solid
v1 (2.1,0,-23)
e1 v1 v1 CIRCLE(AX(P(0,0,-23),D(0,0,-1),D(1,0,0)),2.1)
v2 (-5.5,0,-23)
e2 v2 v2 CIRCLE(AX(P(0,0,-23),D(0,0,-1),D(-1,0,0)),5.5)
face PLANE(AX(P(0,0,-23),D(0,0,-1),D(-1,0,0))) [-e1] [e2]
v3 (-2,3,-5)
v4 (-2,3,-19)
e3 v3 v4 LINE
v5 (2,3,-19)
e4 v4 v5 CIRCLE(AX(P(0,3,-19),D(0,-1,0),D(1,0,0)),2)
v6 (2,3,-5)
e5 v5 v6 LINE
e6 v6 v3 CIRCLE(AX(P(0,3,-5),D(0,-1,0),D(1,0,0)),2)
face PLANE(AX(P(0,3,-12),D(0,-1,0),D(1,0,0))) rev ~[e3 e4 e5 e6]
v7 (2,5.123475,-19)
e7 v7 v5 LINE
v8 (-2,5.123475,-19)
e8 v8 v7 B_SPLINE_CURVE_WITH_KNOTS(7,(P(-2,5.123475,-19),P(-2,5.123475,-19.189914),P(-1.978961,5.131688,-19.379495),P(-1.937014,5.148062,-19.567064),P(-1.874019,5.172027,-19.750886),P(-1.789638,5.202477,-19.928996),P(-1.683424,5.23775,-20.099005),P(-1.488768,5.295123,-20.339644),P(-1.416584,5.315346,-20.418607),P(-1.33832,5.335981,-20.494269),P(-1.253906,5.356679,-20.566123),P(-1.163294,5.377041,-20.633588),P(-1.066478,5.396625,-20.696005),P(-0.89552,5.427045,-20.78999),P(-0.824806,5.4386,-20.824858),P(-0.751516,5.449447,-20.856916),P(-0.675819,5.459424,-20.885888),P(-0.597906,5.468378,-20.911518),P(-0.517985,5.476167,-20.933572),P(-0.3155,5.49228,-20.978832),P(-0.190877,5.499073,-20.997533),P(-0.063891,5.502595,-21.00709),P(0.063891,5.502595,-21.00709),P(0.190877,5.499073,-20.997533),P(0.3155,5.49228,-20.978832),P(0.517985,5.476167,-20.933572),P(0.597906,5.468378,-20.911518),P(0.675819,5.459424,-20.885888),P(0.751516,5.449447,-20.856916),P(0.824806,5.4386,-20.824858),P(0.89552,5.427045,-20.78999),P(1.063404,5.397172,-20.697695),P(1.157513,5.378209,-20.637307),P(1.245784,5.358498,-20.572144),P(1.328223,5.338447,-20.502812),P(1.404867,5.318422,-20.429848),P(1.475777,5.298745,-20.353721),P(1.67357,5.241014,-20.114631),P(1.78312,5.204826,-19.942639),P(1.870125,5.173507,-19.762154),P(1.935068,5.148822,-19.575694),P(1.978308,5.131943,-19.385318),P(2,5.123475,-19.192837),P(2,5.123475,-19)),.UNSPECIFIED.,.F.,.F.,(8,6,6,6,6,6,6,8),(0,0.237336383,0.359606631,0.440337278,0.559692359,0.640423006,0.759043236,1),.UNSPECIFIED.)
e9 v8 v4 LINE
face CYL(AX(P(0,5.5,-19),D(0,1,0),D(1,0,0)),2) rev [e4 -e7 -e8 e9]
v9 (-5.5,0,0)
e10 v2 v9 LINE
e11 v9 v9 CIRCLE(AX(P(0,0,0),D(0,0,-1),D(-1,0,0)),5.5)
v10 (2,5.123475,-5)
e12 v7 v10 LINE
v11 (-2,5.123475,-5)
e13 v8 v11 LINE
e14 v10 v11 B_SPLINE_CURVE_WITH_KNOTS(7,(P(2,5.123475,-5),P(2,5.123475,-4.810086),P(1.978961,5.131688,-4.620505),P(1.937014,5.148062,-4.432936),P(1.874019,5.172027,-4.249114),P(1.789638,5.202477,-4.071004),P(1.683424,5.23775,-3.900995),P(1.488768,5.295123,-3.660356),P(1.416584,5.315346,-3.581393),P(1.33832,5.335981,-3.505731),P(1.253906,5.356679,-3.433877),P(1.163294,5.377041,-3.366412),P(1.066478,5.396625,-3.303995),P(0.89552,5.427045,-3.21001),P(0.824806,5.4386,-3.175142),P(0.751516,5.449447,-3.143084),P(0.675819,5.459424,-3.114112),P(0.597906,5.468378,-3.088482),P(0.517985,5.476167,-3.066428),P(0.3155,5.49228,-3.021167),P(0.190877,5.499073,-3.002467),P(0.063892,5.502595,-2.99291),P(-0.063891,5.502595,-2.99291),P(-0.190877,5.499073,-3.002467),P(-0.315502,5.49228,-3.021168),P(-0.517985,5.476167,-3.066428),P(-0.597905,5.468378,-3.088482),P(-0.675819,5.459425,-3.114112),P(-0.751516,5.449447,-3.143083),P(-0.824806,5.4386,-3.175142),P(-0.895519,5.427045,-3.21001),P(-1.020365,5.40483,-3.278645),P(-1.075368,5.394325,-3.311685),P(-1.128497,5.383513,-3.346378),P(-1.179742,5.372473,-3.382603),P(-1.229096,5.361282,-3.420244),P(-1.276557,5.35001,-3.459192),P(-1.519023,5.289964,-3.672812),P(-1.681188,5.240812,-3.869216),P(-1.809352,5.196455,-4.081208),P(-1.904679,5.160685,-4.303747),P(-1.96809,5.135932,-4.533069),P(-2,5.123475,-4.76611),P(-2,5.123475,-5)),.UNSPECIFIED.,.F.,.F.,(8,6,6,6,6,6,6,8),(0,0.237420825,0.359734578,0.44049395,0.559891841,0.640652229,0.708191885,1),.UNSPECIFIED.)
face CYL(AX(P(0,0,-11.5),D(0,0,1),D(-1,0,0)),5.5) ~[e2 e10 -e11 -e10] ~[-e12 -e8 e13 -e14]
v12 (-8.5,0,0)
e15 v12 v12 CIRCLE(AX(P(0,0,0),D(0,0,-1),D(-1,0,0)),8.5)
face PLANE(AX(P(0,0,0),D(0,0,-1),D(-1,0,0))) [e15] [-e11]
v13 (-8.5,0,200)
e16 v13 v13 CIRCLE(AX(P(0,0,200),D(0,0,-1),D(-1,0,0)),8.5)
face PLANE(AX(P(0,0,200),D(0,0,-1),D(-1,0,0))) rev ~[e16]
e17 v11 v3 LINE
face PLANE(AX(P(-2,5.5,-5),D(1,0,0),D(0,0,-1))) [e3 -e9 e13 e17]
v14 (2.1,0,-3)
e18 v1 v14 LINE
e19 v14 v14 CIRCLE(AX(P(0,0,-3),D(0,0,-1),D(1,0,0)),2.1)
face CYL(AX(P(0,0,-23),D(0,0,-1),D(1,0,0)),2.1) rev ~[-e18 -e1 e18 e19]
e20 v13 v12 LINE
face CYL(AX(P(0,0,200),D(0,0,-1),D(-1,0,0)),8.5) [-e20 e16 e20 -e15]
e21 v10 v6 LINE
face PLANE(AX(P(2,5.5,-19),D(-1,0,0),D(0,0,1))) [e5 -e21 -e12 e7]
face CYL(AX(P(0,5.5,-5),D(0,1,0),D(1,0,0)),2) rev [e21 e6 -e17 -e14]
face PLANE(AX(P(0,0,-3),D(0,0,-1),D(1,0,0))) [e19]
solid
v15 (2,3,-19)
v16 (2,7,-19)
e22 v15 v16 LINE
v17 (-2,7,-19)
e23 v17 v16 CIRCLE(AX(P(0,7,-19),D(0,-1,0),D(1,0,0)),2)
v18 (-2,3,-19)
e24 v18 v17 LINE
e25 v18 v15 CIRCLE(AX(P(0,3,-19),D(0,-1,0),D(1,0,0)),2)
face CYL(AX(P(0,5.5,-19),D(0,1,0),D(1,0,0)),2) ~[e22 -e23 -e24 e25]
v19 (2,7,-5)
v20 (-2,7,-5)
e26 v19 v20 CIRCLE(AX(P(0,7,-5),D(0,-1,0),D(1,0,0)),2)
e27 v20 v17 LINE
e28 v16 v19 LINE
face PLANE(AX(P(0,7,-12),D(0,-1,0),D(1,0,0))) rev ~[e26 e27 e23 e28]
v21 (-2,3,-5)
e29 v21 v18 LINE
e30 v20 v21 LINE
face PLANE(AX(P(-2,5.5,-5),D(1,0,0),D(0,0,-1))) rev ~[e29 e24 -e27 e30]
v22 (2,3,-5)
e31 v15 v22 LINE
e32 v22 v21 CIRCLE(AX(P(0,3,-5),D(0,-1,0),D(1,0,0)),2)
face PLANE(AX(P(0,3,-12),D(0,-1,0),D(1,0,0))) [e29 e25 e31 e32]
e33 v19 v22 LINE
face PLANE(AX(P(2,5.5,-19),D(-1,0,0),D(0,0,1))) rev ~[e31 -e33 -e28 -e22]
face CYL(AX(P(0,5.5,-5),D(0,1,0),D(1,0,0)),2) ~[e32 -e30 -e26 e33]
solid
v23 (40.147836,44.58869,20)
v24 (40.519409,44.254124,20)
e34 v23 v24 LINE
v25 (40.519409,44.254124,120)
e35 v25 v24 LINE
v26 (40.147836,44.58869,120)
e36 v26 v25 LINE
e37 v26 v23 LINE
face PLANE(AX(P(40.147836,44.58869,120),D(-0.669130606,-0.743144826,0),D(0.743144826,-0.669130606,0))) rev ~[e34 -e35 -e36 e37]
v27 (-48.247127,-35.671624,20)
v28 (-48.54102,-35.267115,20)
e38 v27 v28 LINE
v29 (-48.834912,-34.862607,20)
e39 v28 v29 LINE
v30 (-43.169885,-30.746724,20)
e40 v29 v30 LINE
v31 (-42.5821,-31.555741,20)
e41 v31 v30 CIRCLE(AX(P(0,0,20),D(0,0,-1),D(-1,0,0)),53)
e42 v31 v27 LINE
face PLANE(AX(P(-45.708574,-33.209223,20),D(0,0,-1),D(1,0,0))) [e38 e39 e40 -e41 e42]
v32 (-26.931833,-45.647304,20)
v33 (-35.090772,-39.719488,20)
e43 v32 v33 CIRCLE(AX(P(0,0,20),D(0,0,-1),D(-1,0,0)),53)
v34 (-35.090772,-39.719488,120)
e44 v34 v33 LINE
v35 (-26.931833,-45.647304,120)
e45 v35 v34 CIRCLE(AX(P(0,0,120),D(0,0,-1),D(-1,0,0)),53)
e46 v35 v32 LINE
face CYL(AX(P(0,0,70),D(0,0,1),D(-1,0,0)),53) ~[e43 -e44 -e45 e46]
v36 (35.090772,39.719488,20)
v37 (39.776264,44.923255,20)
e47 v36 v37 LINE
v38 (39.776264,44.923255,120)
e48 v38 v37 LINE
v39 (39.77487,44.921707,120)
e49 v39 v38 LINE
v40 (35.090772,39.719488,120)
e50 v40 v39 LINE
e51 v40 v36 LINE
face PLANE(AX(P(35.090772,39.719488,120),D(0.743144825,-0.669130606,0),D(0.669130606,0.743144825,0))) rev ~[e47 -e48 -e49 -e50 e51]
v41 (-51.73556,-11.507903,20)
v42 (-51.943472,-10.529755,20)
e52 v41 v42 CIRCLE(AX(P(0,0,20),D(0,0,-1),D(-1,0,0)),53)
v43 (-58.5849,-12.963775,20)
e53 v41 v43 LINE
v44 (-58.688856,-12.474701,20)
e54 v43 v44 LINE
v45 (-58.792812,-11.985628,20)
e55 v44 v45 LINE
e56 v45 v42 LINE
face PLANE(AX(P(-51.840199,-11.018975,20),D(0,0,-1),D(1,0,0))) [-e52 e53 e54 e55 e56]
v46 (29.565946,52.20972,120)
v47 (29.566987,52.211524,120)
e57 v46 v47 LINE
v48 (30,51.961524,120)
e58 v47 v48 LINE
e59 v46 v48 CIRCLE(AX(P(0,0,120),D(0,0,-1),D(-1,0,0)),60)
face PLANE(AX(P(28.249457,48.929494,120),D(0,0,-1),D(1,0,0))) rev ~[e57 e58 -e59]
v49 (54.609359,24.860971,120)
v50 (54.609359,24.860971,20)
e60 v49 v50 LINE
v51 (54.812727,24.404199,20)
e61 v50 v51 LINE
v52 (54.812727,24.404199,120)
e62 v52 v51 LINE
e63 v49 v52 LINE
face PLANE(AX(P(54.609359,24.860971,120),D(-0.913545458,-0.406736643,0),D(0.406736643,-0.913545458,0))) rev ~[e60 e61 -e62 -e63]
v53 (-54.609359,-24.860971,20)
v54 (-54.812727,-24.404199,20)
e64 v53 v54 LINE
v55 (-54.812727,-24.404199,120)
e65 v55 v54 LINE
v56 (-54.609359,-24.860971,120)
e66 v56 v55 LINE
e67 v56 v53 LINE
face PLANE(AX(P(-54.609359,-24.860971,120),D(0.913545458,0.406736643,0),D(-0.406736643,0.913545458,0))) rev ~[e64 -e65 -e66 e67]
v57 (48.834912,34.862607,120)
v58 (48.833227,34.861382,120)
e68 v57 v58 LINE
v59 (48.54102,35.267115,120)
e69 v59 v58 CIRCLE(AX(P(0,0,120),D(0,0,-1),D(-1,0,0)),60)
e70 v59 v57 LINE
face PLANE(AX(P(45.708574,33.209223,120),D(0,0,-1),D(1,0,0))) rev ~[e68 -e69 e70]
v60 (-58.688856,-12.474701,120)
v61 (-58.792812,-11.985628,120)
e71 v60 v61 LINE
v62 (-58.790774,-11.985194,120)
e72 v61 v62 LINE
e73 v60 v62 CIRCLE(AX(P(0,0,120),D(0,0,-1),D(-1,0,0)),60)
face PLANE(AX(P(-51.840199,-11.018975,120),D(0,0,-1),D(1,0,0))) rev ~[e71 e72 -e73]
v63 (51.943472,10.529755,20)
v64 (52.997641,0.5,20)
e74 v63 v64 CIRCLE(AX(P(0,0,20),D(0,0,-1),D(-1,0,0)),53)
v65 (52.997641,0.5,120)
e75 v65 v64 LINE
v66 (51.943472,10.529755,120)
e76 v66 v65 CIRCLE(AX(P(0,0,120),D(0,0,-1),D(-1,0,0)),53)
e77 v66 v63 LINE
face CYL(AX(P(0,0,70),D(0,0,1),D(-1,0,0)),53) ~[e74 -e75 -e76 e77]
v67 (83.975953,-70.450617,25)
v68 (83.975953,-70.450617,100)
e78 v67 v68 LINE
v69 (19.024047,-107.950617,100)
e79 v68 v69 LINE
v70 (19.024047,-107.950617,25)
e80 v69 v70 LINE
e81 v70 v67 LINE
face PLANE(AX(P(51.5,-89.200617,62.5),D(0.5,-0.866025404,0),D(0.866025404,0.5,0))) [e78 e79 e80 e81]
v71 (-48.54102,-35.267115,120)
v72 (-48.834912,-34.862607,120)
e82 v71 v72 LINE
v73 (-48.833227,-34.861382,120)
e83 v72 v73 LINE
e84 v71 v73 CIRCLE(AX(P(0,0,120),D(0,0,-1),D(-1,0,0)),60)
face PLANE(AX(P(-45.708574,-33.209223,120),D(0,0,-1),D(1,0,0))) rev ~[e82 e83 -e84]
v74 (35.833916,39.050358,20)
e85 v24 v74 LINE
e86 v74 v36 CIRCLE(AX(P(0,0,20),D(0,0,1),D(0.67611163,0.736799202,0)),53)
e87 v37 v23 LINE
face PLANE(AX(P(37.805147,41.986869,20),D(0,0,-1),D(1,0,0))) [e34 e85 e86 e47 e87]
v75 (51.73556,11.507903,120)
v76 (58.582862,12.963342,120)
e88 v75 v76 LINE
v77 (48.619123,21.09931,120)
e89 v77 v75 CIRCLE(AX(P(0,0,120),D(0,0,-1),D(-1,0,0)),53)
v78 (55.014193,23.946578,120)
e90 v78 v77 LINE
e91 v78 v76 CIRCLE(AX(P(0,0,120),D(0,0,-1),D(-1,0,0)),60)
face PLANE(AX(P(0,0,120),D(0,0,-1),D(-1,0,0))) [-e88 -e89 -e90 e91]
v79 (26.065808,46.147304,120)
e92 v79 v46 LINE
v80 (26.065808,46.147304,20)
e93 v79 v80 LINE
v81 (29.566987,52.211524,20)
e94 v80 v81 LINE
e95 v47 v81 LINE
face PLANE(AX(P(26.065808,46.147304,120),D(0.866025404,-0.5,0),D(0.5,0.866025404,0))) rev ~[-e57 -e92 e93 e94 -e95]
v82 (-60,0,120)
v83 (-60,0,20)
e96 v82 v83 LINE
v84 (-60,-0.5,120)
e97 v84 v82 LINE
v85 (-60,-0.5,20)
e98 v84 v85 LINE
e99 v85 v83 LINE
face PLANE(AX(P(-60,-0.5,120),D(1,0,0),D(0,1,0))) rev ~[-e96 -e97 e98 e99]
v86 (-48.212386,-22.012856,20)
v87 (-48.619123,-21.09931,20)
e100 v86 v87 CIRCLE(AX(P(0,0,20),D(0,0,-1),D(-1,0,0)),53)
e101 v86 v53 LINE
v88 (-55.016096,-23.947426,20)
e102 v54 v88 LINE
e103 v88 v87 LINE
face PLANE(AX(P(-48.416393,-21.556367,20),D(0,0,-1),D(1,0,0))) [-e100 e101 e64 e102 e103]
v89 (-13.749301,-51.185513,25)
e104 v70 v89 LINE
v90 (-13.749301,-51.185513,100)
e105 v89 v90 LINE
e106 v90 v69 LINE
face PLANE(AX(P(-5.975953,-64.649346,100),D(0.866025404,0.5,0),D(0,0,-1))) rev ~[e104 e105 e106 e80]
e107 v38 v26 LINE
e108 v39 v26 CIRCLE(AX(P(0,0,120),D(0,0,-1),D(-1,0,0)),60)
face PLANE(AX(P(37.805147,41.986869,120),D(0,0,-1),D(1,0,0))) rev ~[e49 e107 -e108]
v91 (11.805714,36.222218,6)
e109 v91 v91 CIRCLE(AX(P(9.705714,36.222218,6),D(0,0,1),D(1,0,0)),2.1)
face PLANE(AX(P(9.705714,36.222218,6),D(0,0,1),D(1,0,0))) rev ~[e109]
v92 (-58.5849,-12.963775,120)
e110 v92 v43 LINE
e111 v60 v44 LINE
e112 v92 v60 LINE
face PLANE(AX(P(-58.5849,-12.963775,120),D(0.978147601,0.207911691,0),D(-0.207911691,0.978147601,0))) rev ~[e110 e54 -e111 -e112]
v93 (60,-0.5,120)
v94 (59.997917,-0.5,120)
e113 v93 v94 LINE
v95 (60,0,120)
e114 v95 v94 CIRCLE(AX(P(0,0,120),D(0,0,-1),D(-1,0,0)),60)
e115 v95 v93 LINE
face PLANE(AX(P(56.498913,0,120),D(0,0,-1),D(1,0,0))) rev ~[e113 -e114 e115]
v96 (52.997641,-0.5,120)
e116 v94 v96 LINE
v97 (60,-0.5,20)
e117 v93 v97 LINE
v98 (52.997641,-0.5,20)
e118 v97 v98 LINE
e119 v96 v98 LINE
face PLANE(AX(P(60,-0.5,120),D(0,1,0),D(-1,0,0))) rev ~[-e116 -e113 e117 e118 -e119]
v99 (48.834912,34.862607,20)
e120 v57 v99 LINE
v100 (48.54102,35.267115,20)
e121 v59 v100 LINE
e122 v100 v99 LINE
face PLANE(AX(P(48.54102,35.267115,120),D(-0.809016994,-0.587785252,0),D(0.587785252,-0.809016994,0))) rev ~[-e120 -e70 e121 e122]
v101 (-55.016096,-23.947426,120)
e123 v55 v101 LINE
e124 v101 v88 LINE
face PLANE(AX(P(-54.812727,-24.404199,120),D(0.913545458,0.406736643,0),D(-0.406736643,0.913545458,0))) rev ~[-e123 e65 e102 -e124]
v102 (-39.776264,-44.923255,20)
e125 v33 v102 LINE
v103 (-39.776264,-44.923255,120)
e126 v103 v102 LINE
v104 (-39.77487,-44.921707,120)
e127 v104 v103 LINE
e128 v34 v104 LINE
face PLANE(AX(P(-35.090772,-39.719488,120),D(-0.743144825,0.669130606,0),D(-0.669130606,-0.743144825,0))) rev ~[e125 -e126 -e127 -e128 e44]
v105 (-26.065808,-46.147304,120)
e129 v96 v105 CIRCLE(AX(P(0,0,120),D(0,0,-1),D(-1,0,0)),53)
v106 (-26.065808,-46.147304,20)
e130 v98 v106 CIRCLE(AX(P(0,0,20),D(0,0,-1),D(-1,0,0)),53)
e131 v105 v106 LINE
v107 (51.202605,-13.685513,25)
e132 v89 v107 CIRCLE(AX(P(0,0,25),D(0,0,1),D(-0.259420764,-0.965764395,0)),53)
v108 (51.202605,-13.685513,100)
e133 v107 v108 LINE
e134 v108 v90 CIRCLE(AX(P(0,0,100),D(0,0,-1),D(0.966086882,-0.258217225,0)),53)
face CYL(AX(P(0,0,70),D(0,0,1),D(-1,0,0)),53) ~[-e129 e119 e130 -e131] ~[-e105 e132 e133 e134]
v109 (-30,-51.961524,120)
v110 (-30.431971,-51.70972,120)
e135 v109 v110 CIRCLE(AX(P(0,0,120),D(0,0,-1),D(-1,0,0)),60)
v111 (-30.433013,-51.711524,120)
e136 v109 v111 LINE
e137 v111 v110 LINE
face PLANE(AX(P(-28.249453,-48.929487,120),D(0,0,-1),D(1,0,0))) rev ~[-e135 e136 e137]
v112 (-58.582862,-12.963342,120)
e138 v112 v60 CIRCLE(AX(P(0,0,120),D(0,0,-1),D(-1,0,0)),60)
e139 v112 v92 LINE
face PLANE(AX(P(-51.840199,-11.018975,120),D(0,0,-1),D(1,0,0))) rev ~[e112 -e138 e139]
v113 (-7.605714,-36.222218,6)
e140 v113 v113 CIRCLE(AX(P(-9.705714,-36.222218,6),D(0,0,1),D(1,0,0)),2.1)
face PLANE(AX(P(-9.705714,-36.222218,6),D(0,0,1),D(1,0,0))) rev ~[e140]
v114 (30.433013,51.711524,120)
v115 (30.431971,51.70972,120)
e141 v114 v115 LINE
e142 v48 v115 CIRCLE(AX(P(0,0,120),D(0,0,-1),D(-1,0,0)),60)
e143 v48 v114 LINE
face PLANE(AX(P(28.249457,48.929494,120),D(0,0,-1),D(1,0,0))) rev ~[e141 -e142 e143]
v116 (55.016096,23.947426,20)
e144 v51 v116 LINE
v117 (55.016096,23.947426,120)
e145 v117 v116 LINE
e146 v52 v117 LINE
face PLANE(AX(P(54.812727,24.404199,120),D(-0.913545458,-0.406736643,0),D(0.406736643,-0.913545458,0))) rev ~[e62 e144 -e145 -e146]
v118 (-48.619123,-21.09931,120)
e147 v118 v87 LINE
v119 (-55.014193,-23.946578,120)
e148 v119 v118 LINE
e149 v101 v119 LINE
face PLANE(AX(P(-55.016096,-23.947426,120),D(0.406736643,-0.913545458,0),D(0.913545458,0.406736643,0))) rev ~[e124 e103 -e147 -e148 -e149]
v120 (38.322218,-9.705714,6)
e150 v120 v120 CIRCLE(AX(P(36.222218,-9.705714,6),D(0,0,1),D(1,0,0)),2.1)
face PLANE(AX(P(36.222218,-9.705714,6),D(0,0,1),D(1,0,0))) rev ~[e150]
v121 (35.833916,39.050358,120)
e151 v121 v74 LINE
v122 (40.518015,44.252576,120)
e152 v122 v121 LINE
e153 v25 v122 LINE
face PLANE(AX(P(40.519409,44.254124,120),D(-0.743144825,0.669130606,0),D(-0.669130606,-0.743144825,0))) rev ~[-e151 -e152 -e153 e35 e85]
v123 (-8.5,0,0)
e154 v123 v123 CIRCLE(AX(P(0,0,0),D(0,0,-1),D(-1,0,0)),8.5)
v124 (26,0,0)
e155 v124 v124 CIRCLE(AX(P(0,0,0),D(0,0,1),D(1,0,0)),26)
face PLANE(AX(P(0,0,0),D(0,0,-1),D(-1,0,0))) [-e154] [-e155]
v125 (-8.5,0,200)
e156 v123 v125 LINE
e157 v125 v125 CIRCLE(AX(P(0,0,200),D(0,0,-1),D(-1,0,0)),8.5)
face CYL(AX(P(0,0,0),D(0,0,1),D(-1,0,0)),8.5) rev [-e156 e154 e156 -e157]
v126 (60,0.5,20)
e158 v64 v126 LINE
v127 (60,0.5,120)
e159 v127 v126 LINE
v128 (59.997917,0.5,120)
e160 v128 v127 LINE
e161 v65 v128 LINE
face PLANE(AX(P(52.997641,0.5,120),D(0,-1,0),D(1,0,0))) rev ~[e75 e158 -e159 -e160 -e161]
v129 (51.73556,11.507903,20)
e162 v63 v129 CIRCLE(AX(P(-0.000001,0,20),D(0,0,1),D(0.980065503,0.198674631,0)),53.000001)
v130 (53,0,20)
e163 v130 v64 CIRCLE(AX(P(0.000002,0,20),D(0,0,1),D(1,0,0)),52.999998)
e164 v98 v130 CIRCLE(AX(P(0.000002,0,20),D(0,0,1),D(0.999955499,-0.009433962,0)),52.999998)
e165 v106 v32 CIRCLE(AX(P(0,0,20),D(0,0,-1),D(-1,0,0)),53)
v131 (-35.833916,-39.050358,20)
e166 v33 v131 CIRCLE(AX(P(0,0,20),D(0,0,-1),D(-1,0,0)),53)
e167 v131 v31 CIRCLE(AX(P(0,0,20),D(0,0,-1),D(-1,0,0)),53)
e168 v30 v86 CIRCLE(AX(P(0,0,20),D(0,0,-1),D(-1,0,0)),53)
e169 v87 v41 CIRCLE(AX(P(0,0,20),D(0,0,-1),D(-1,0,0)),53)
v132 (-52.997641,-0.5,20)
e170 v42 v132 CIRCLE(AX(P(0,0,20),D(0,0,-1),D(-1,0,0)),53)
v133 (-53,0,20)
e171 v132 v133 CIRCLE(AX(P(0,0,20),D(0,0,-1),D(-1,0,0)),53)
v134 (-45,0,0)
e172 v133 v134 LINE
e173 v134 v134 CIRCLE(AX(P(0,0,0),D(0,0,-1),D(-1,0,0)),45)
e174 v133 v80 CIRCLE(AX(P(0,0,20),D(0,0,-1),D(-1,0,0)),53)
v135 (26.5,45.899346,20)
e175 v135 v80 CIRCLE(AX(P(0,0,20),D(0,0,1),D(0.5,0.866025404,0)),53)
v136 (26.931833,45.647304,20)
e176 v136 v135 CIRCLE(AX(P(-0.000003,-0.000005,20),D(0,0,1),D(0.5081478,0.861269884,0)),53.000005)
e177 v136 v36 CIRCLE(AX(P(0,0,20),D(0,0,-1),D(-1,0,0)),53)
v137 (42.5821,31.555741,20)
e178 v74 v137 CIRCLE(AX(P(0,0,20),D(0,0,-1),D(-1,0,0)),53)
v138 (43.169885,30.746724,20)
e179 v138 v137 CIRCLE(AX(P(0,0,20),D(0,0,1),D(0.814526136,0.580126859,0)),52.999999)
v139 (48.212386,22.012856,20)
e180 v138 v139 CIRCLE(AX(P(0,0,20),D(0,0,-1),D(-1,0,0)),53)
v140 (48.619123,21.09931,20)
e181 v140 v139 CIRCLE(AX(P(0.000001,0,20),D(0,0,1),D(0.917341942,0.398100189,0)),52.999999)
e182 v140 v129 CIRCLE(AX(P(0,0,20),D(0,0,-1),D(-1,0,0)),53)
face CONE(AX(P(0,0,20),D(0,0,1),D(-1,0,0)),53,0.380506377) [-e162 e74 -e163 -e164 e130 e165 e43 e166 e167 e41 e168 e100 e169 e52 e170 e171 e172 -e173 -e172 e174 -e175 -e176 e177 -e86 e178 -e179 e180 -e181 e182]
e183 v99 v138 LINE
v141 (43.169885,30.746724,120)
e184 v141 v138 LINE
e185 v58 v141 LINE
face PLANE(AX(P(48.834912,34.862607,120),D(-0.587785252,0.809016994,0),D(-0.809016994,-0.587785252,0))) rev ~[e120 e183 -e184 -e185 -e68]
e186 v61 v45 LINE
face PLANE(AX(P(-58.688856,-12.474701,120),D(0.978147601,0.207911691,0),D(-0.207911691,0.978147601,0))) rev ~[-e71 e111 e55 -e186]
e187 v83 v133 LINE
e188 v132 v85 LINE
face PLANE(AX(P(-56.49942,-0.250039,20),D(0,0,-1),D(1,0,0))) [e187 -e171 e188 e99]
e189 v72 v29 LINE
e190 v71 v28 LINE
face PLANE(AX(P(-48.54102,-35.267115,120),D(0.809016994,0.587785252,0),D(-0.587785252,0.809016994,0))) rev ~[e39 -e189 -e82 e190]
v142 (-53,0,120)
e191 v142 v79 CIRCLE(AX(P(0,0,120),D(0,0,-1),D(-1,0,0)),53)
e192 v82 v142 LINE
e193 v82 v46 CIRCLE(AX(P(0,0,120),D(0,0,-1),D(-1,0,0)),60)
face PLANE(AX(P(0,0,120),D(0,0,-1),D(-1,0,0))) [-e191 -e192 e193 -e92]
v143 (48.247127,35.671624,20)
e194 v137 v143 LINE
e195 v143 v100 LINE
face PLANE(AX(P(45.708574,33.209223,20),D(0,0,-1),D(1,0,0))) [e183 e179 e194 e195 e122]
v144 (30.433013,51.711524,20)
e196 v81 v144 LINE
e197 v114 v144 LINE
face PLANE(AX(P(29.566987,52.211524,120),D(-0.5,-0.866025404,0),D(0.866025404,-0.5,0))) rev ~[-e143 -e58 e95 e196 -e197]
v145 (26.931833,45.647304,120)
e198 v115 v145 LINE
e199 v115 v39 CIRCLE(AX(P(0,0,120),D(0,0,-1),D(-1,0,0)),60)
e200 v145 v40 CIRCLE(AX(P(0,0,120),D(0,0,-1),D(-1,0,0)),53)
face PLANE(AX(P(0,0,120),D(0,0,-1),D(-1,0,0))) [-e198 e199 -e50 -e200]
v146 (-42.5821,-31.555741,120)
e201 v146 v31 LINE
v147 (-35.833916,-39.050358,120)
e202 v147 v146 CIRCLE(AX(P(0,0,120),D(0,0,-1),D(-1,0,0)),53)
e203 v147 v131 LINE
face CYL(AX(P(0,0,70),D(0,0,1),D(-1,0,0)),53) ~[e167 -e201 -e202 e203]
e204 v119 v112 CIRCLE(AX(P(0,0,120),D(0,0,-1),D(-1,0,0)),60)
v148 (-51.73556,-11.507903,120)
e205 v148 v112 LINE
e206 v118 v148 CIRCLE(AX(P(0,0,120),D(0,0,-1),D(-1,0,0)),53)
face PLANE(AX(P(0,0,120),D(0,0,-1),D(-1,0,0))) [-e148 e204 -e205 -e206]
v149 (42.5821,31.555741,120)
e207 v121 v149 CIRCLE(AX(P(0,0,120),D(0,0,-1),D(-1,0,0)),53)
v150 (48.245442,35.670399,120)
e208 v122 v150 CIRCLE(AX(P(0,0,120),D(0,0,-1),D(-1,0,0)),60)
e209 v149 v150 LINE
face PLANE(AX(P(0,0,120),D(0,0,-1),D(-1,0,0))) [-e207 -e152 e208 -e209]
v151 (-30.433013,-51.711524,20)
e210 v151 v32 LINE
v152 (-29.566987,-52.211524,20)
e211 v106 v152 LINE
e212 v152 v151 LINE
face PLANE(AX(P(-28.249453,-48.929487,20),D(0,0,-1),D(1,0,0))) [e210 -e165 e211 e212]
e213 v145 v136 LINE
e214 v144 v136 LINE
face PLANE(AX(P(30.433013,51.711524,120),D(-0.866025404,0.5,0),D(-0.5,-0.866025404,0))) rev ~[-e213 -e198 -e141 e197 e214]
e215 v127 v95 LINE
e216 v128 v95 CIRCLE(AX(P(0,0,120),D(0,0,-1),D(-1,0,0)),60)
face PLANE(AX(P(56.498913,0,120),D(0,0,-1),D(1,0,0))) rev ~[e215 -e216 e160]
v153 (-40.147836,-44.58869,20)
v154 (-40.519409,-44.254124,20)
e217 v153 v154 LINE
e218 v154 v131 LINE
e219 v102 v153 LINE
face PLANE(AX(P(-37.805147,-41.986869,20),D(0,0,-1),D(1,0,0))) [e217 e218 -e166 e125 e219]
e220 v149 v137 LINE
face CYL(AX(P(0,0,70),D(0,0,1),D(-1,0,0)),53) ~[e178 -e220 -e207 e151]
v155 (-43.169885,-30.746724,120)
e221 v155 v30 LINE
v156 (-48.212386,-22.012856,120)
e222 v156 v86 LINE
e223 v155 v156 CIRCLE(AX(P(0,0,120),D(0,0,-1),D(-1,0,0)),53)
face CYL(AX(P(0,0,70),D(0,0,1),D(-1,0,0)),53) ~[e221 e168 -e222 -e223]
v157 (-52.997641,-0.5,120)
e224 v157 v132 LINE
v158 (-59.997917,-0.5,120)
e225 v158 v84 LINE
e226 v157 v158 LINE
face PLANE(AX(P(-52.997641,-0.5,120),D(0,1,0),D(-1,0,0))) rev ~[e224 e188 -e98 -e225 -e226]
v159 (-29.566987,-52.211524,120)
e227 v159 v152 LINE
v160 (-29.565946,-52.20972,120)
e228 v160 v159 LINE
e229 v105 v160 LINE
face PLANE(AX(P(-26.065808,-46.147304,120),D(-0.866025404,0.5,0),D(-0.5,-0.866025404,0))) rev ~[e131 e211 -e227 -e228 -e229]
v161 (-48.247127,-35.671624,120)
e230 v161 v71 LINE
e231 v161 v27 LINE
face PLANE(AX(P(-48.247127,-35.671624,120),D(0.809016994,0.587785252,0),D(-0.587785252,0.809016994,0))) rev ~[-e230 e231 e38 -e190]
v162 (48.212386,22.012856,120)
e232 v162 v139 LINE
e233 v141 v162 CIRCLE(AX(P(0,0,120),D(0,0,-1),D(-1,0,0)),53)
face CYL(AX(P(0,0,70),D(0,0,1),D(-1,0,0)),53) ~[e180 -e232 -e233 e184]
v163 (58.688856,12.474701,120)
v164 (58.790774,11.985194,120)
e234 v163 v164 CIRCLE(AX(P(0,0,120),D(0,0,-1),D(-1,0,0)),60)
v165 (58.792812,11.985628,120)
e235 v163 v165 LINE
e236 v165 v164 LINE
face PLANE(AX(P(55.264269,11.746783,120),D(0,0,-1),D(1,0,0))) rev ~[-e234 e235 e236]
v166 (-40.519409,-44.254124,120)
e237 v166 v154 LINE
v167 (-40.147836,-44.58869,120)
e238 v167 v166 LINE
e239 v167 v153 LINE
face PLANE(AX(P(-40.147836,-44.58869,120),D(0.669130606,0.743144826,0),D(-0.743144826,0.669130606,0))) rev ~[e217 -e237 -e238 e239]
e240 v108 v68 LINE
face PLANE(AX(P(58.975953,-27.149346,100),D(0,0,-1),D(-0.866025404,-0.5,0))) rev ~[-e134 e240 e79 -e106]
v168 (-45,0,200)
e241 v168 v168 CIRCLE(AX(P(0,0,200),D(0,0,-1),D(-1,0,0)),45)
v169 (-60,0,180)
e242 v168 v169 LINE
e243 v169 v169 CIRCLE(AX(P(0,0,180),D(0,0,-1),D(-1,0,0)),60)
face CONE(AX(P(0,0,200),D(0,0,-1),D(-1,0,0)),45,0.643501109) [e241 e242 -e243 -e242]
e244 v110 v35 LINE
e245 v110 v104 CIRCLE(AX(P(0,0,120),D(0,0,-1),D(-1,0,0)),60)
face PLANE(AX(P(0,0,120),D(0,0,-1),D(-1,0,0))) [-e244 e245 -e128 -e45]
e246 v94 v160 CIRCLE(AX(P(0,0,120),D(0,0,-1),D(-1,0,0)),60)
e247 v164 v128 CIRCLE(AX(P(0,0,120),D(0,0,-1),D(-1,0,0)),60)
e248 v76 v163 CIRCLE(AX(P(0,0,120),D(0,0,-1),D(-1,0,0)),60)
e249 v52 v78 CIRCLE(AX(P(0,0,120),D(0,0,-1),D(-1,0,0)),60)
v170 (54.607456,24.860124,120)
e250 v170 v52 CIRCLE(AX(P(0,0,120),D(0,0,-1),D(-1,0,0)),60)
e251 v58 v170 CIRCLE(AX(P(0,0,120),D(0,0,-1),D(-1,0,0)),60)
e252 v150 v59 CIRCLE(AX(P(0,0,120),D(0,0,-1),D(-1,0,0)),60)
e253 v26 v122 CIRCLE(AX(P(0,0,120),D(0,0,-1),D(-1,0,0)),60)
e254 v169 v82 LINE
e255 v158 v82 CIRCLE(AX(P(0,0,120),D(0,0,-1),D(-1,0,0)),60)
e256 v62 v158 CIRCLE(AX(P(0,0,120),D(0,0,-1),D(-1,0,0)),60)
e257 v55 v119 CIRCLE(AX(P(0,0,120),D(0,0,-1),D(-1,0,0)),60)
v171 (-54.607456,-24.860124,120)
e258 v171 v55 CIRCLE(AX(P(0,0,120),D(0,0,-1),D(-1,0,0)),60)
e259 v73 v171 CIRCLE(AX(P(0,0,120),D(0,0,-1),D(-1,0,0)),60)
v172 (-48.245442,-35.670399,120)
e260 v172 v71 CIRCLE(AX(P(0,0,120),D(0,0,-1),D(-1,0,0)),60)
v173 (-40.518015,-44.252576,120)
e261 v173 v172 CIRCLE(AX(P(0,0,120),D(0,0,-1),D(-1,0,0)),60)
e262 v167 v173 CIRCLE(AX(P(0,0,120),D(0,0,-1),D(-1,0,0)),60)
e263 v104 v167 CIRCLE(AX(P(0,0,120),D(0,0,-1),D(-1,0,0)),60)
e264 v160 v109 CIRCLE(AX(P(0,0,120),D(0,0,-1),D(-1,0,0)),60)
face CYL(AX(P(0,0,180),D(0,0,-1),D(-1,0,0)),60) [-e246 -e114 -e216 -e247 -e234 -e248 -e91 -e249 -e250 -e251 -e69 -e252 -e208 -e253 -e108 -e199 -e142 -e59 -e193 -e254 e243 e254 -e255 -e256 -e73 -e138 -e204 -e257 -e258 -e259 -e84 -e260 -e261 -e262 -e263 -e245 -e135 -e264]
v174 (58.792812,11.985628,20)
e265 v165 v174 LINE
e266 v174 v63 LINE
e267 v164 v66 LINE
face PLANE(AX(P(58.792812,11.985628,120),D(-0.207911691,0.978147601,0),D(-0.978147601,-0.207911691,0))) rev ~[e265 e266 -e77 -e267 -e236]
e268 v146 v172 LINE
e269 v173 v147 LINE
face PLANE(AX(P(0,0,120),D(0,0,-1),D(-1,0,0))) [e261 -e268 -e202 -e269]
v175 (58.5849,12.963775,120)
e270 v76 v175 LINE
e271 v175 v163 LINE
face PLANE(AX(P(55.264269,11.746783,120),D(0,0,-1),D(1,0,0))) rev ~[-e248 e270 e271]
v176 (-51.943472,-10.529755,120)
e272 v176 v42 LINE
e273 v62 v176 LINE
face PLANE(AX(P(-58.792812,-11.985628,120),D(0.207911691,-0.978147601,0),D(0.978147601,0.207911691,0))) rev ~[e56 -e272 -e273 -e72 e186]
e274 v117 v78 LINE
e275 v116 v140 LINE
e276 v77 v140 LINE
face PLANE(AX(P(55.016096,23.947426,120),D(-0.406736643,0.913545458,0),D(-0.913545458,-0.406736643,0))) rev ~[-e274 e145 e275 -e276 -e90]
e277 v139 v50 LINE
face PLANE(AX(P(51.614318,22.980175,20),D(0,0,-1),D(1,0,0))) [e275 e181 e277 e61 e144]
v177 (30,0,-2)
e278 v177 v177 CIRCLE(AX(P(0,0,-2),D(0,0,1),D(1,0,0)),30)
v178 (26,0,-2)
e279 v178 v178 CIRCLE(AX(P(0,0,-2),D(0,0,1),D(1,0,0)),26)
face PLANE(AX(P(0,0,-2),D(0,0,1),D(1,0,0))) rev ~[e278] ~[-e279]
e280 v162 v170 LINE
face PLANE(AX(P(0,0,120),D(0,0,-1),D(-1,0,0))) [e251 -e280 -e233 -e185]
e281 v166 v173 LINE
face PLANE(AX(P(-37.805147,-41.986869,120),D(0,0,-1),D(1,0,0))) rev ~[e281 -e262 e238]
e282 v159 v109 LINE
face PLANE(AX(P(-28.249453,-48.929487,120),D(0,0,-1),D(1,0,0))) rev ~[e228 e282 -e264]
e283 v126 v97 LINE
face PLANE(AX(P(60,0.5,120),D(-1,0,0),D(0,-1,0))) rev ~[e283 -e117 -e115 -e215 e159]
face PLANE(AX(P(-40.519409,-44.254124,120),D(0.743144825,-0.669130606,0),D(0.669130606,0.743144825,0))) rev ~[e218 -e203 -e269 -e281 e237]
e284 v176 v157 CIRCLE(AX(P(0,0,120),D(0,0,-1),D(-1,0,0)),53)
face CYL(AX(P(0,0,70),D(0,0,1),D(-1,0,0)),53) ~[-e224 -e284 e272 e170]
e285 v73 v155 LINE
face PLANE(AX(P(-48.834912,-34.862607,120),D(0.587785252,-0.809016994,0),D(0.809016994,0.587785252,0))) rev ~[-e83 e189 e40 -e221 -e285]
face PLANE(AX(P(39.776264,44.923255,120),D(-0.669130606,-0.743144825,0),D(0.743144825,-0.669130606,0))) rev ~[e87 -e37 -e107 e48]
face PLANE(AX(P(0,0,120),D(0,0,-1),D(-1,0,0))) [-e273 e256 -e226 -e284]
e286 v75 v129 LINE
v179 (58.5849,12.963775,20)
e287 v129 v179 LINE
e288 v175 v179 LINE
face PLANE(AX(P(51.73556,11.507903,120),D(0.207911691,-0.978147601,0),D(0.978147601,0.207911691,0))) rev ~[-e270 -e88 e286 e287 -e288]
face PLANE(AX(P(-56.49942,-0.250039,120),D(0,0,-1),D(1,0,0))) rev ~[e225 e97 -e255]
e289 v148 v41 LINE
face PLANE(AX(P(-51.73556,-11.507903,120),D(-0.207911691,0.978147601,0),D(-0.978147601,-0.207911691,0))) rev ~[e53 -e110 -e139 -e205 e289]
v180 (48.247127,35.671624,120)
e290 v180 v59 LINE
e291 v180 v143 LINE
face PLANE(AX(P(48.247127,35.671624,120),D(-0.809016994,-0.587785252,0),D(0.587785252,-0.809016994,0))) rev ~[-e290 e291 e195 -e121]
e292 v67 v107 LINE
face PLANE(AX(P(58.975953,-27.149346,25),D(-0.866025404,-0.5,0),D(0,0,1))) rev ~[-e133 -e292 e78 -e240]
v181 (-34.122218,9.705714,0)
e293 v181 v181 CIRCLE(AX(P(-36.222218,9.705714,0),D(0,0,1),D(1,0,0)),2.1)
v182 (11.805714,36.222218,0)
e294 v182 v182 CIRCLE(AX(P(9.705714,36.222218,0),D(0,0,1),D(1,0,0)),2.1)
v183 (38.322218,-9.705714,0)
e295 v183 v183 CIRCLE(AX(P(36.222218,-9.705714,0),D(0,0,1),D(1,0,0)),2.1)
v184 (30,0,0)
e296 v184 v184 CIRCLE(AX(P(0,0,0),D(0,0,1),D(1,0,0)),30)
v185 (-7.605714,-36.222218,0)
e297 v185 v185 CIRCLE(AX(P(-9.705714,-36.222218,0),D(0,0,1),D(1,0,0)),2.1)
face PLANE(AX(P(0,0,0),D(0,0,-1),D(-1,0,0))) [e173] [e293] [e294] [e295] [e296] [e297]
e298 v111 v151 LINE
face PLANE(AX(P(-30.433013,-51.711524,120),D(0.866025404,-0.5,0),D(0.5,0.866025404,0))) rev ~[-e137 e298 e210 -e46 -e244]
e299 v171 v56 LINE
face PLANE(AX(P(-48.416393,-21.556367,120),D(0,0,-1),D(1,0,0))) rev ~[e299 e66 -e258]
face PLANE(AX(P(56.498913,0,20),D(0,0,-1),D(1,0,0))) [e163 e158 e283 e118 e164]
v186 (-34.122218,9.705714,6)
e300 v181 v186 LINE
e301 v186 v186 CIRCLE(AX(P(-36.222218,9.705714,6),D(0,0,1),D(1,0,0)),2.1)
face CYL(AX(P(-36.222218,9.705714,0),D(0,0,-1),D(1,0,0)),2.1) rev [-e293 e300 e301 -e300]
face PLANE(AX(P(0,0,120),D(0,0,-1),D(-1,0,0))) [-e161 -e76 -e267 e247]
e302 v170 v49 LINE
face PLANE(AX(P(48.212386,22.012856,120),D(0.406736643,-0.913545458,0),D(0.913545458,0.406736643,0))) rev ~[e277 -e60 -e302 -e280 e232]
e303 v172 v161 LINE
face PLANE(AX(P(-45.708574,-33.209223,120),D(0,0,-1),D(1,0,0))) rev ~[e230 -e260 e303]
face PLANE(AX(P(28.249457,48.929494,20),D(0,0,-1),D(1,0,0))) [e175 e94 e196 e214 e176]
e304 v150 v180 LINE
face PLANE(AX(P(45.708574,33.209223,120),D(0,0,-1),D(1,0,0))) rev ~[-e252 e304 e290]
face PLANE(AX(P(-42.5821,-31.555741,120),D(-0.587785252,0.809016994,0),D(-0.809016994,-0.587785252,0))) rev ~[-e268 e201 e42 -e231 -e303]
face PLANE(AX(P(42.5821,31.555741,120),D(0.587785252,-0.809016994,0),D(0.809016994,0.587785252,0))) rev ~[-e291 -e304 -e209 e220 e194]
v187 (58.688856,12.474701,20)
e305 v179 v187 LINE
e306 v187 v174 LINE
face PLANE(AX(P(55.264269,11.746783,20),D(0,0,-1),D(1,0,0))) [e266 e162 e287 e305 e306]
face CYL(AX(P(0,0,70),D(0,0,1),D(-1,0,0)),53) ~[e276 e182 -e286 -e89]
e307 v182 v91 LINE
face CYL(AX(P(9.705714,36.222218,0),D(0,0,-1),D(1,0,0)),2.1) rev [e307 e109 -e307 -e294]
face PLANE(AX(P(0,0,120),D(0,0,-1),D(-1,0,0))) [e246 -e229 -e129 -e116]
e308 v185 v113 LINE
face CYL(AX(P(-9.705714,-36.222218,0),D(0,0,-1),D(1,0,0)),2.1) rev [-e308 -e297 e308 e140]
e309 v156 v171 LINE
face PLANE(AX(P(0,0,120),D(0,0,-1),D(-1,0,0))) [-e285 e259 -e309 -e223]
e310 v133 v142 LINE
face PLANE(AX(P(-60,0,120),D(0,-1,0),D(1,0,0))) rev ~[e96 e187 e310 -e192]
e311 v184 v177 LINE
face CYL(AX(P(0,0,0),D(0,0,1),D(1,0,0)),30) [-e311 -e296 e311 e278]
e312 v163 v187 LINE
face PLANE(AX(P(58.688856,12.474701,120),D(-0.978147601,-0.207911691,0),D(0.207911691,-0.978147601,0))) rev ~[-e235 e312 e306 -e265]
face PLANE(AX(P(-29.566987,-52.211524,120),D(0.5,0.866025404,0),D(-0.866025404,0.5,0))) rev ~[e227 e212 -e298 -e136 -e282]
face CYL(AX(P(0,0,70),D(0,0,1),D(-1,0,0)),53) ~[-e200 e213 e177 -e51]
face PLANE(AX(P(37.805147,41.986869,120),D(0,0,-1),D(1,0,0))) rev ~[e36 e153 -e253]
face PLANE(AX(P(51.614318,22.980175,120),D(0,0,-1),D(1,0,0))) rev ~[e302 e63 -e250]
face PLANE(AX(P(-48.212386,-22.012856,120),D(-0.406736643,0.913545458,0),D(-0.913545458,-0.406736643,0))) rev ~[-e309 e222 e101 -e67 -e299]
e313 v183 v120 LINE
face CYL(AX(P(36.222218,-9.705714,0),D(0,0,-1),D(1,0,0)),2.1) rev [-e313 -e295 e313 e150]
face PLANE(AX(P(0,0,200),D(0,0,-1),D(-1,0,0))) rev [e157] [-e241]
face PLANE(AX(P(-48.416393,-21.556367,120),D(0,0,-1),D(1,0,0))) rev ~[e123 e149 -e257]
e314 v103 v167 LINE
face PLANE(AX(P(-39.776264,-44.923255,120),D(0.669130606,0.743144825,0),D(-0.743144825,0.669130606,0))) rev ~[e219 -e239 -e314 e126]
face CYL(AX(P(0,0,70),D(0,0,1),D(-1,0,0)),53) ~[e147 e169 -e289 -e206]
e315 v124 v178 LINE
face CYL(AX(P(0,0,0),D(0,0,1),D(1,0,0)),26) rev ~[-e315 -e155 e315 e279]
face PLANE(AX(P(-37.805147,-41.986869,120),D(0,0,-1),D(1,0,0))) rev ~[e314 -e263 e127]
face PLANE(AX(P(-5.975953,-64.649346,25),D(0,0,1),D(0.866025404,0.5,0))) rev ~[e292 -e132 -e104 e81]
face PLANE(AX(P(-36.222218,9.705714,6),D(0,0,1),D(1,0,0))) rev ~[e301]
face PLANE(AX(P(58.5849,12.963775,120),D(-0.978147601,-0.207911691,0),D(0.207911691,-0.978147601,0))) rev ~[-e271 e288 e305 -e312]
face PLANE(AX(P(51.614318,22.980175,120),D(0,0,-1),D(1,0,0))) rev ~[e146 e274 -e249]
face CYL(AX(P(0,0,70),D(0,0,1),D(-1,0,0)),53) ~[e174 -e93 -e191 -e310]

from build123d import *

# Parameters (mm, degrees)
F0_W           = 44.5
F0_H           = 100
F0_W_2         = 8.5
F0_H_2         = 80
F0_W_3         = 5.5
F0_H_3         = 23
F5_DEPTH       = 100
F6_R           = 2.1
F7_DEPTH       = 6
F10_DEPTH      = 44.5
F10_DEPTH_BACK = 50
F13_DEPTH      = 2.5
F6_R_2         = 30
F6_R_3         = 26
F14_DEPTH      = 2
F15_DEPTH      = 1.5
F15_DEPTH_BACK = 2.5
F16_R          = 2.1
F17_DEPTH      = 20


with BuildPart() as f1:
    # F0 (on Front) → F1 (revolve)
    with BuildSketch(Plane.XZ):
        Polygon((-8.5, 0), (-8.5, 20), (-53, 20), (-45, 0), align=None)
        Polygon((-8.5, 120), (-8.5, 200), (-45, 200), (-60, 180), (-60, 120), (-53, 120), align=None)
        with Locations((-30.75, 70)):
            Rectangle(F0_W, F0_H)
    revolve(axis=Axis((0, 0, 100), (0, 0, -1)))

    # F4 (on line) → F5 (join)
    with BuildSketch(Plane(origin=(0, 0, 120), x_dir=(1, 0, 0), z_dir=(0, 0, -1))):
        with BuildLine():
            ThreePointArc((-51.7355599903, 11.507903045), (-51.8418228389, 11.0193196133), (-51.9434716811, 10.5297554443))
            Line((-51.9434716811, 10.5297554443), (-51.8395158357, 11.0188292447))
            Line((-51.8395158357, 11.0188292447), (-51.7355599903, 11.507903045))
        make_face()
        with BuildLine():
            Line((-58.7928118894, 11.9856276487), (-51.9434716811, 10.5297554443))
            ThreePointArc((-51.9434716811, 10.5297554443), (-51.8418228389, 11.0193196133), (-51.7355599903, 11.507903045))
            Line((-51.7355599903, 11.507903045), (-58.5849001986, 12.9637752494))
            Line((-58.5849001986, 12.9637752494), (-58.688856044, 12.4747014491))
            Line((-58.688856044, 12.4747014491), (-58.7928118894, 11.9856276487))
        make_face()
        with BuildLine():
            Line((-48.8349122886, 34.8626066404), (-43.1698852266, 30.7467235575))
            ThreePointArc((-43.1698852266, 30.7467235575), (-42.8779007019, 31.1526183715), (-42.5820999743, 31.5557405519))
            Line((-42.5820999743, 31.5557405519), (-48.2471270364, 35.6716236347))
            Line((-48.2471270364, 35.6716236347), (-48.5410196625, 35.2671151375))
            Line((-48.5410196625, 35.2671151375), (-48.8349122886, 34.8626066404))
        make_face()
        with BuildLine():
            Line((-40.5194087943, 44.2541242255), (-35.8339163764, 39.0503577081))
            ThreePointArc((-35.8339163764, 39.0503577081), (-35.463922137, 39.3866757503), (-35.0907715509, 39.7194883144))
            Line((-35.0907715509, 39.7194883144), (-39.7762639688, 44.9232548318))
            Line((-39.7762639688, 44.9232548318), (-40.1478363815, 44.5886895286))
            Line((-40.1478363815, 44.5886895286), (-40.5194087943, 44.2541242255))
        make_face()
        with BuildLine():
            Line((-30.4330127019, 51.7115242271), (-26.9318334304, 45.6473038424))
            ThreePointArc((-26.9318334304, 45.6473038424), (-26.5, 45.8993464006), (-26.0658080266, 46.1473038424))
            Line((-26.0658080266, 46.1473038424), (-29.5669872981, 52.2115242271))
            Line((-29.5669872981, 52.2115242271), (-30, 51.9615242271))
            Line((-30, 51.9615242271), (-30.4330127019, 51.7115242271))
        make_face()
        with BuildLine():
            ThreePointArc((-48.2123862972, 22.012855506), (-48.4179092551, 21.557042083), (-48.6191229403, 21.0993100483))
            Line((-48.6191229403, 21.0993100483), (-48.4157546188, 21.5560827771))
            Line((-48.4157546188, 21.5560827771), (-48.2123862972, 22.012855506))
        make_face()
        with BuildLine():
            ThreePointArc((-42.5820999743, 31.5557405519), (-42.8779007019, 31.1526183715), (-43.1698852266, 30.7467235575))
            Line((-43.1698852266, 30.7467235575), (-42.8759926005, 31.1512320547))
            Line((-42.8759926005, 31.1512320547), (-42.5820999743, 31.5557405519))
        make_face()
        with BuildLine():
            ThreePointArc((-35.0907715509, 39.7194883144), (-35.463922137, 39.3866757503), (-35.8339163764, 39.0503577081))
            Line((-35.8339163764, 39.0503577081), (-35.4623439637, 39.3849230112))
            Line((-35.4623439637, 39.3849230112), (-35.0907715509, 39.7194883144))
        make_face()
        with BuildLine():
            ThreePointArc((-26.0658080266, 46.1473038424), (-26.5, 45.8993464006), (-26.9318334304, 45.6473038424))
            Line((-26.9318334304, 45.6473038424), (-26.4988207285, 45.8973038424))
            Line((-26.4988207285, 45.8973038424), (-26.0658080266, 46.1473038424))
        make_face()
        with BuildLine():
            Line((-55.0160957801, 23.9474258557), (-48.6191229403, 21.0993100483))
            ThreePointArc((-48.6191229403, 21.0993100483), (-48.4179092551, 21.557042083), (-48.2123862972, 22.012855506))
            Line((-48.2123862972, 22.012855506), (-54.609359137, 24.8609713134))
            Line((-54.609359137, 24.8609713134), (-54.8127274586, 24.4041985845))
            Line((-54.8127274586, 24.4041985845), (-55.0160957801, 23.9474258557))
        make_face()
        with BuildLine():
            Line((-60, 0), (-53, 0))
            ThreePointArc((-53, 0), (-52.999410361, 0.2500027813), (-52.997641457, 0.5))
            Line((-52.997641457, 0.5), (-60, 0.5))
            Line((-60, 0.5), (-60, 0))
        make_face()
        with BuildLine():
            ThreePointArc((35.8339163764, -39.0503577081), (35.463922137, -39.3866757503), (35.0907715509, -39.7194883144))
            Line((35.0907715509, -39.7194883144), (39.7762639688, -44.9232548318))
            Line((39.7762639688, -44.9232548318), (40.1478363815, -44.5886895286))
            Line((40.1478363815, -44.5886895286), (40.5194087943, -44.2541242255))
            Line((40.5194087943, -44.2541242255), (35.8339163764, -39.0503577081))
        make_face()
        with BuildLine():
            ThreePointArc((26.5, -45.8993464006), (26.2831964208, -46.0238371489), (26.0658080266, -46.1473038424))
            Line((26.0658080266, -46.1473038424), (29.5669872981, -52.2115242271))
            Line((29.5669872981, -52.2115242271), (30, -51.9615242271))
            Line((30, -51.9615242271), (30.4330127019, -51.7115242271))
            Line((30.4330127019, -51.7115242271), (26.9318334304, -45.6473038424))
            ThreePointArc((26.9318334304, -45.6473038424), (26.7162139401, -45.7738343675), (26.5, -45.8993464006))
        make_face()
        with BuildLine():
            ThreePointArc((43.1698852266, -30.7467235575), (42.8779007019, -31.1526183715), (42.5820999743, -31.5557405519))
            Line((42.5820999743, -31.5557405519), (48.2471270364, -35.6716236347))
            Line((48.2471270364, -35.6716236347), (48.5410196625, -35.2671151375))
            Line((48.5410196625, -35.2671151375), (48.8349122886, -34.8626066404))
            Line((48.8349122886, -34.8626066404), (43.1698852266, -30.7467235575))
        make_face()
        with BuildLine():
            ThreePointArc((48.6191229403, -21.0993100483), (48.4179092551, -21.557042083), (48.2123862972, -22.012855506))
            Line((48.2123862972, -22.012855506), (54.609359137, -24.8609713134))
            Line((54.609359137, -24.8609713134), (54.8127274586, -24.4041985845))
            Line((54.8127274586, -24.4041985845), (55.0160957801, -23.9474258557))
            Line((55.0160957801, -23.9474258557), (48.6191229403, -21.0993100483))
        make_face()
        with BuildLine():
            ThreePointArc((51.9434716811, -10.5297554443), (51.8418228389, -11.0193196133), (51.7355599903, -11.507903045))
            Line((51.7355599903, -11.507903045), (58.5849001986, -12.9637752494))
            Line((58.5849001986, -12.9637752494), (58.688856044, -12.4747014491))
            Line((58.688856044, -12.4747014491), (58.7928118894, -11.9856276487))
            Line((58.7928118894, -11.9856276487), (51.9434716811, -10.5297554443))
        make_face()
        with BuildLine():
            Line((60, 0.5), (52.997641457, 0.5))
            ThreePointArc((52.997641457, 0.5), (52.999410361, 0.2500027813), (53, 0))
            ThreePointArc((53, 0), (52.999410361, -0.2500027813), (52.997641457, -0.5))
            Line((52.997641457, -0.5), (60, -0.5))
            Line((60, -0.5), (60, 0))
            Line((60, 0), (60, 0.5))
        make_face()
    extrude(amount=F5_DEPTH)

    # F6 (on Top) → F7 (cut)
    with BuildSketch(Plane.XY):
        with Locations((36.2222184858, -9.7057141913)):
            Circle(F6_R)
        with Locations((9.7057141913, 36.2222184858)):
            Circle(F6_R)
        with Locations((-9.7057141913, -36.2222184858)):
            Circle(F6_R)
        with Locations((-36.2222184858, 9.7057141913)):
            Circle(F6_R)
    extrude(amount=F7_DEPTH, mode=Mode.SUBTRACT)

    # F9 (on line) → F10 (join, two sides)
    with BuildSketch(Plane(origin=(26.5, -45.8993464006, 0), x_dir=(0.8660254038, 0.5, 0), z_dir=(0.5, -0.8660254038, 0))) as f10_sk:
        Polygon((37.5, 25), (37.5, 100), (0, 100), (-37.5, 100), (-37.5, 25), align=None)
    extrude(amount=-F10_DEPTH)
    extrude(f10_sk.sketch, amount=F10_DEPTH_BACK)

    # F6 (on Top) → F14 (join)
    with BuildSketch(Plane.XY):
        Circle(F6_R_2)
        Circle(F6_R_3, mode=Mode.SUBTRACT)
    extrude(amount=-F14_DEPTH)


with BuildPart() as f2:
    # F0 (on Front) → F2 (revolve)
    with BuildSketch(Plane.XZ):
        with Locations((-4.25, 160)):
            Rectangle(F0_W_2, F0_H_2)
        with Locations((-4.25, 70)):
            Rectangle(F0_W_2, F0_H)
        Polygon((0, 0), (0, 20), (-8.5, 20), (-8.5, 0), (-5.5, 0), align=None)
        with Locations((-2.75, -11.5)):
            Rectangle(F0_W_3, F0_H_3)
    revolve(axis=Axis((0, 0, 100), (0, 0, -1)))

    # F12 (on offset) → F13 (cut)
    with BuildSketch(Plane.XZ.offset(-5.5)):
        with BuildLine():
            Line((2, -19), (2, -5))
            ThreePointArc((2, -5), (0, -7), (-2, -5))
            Line((-2, -5), (-2, -19))
            ThreePointArc((-2, -19), (0, -17), (2, -19))
        make_face()
        with BuildLine():
            ThreePointArc((-2, -5), (0, -7), (2, -5))
            ThreePointArc((2, -5), (0, -3), (-2, -5))
        make_face()
        with BuildLine():
            ThreePointArc((-2, -19), (0, -21), (2, -19))
            ThreePointArc((2, -19), (0, -17), (-2, -19))
        make_face()
    extrude(amount=F13_DEPTH, mode=Mode.SUBTRACT)

    # F16 (on face) → F17 (cut)
    with BuildSketch(Plane(origin=(0, 0, -23), x_dir=(1, 0, 0), z_dir=(0, 0, -1))):
        Circle(F16_R)
    extrude(amount=-F17_DEPTH, mode=Mode.SUBTRACT)


with BuildPart() as f15:
    # F12 (on offset) → F15 (new body, two sides)
    with BuildSketch(Plane.XZ.offset(-5.5)) as f15_sk:
        with BuildLine():
            Line((2, -19), (2, -5))
            ThreePointArc((2, -5), (0, -7), (-2, -5))
            Line((-2, -5), (-2, -19))
            ThreePointArc((-2, -19), (0, -17), (2, -19))
        make_face()
        with BuildLine():
            ThreePointArc((-2, -5), (0, -7), (2, -5))
            ThreePointArc((2, -5), (0, -3), (-2, -5))
        make_face()
        with BuildLine():
            ThreePointArc((-2, -19), (0, -21), (2, -19))
            ThreePointArc((2, -19), (0, -17), (-2, -19))
        make_face()
    extrude(amount=-F15_DEPTH)
    extrude(f15_sk.sketch, amount=F15_DEPTH_BACK)


solid = Compound([f1.part, f2.part, f15.part])
